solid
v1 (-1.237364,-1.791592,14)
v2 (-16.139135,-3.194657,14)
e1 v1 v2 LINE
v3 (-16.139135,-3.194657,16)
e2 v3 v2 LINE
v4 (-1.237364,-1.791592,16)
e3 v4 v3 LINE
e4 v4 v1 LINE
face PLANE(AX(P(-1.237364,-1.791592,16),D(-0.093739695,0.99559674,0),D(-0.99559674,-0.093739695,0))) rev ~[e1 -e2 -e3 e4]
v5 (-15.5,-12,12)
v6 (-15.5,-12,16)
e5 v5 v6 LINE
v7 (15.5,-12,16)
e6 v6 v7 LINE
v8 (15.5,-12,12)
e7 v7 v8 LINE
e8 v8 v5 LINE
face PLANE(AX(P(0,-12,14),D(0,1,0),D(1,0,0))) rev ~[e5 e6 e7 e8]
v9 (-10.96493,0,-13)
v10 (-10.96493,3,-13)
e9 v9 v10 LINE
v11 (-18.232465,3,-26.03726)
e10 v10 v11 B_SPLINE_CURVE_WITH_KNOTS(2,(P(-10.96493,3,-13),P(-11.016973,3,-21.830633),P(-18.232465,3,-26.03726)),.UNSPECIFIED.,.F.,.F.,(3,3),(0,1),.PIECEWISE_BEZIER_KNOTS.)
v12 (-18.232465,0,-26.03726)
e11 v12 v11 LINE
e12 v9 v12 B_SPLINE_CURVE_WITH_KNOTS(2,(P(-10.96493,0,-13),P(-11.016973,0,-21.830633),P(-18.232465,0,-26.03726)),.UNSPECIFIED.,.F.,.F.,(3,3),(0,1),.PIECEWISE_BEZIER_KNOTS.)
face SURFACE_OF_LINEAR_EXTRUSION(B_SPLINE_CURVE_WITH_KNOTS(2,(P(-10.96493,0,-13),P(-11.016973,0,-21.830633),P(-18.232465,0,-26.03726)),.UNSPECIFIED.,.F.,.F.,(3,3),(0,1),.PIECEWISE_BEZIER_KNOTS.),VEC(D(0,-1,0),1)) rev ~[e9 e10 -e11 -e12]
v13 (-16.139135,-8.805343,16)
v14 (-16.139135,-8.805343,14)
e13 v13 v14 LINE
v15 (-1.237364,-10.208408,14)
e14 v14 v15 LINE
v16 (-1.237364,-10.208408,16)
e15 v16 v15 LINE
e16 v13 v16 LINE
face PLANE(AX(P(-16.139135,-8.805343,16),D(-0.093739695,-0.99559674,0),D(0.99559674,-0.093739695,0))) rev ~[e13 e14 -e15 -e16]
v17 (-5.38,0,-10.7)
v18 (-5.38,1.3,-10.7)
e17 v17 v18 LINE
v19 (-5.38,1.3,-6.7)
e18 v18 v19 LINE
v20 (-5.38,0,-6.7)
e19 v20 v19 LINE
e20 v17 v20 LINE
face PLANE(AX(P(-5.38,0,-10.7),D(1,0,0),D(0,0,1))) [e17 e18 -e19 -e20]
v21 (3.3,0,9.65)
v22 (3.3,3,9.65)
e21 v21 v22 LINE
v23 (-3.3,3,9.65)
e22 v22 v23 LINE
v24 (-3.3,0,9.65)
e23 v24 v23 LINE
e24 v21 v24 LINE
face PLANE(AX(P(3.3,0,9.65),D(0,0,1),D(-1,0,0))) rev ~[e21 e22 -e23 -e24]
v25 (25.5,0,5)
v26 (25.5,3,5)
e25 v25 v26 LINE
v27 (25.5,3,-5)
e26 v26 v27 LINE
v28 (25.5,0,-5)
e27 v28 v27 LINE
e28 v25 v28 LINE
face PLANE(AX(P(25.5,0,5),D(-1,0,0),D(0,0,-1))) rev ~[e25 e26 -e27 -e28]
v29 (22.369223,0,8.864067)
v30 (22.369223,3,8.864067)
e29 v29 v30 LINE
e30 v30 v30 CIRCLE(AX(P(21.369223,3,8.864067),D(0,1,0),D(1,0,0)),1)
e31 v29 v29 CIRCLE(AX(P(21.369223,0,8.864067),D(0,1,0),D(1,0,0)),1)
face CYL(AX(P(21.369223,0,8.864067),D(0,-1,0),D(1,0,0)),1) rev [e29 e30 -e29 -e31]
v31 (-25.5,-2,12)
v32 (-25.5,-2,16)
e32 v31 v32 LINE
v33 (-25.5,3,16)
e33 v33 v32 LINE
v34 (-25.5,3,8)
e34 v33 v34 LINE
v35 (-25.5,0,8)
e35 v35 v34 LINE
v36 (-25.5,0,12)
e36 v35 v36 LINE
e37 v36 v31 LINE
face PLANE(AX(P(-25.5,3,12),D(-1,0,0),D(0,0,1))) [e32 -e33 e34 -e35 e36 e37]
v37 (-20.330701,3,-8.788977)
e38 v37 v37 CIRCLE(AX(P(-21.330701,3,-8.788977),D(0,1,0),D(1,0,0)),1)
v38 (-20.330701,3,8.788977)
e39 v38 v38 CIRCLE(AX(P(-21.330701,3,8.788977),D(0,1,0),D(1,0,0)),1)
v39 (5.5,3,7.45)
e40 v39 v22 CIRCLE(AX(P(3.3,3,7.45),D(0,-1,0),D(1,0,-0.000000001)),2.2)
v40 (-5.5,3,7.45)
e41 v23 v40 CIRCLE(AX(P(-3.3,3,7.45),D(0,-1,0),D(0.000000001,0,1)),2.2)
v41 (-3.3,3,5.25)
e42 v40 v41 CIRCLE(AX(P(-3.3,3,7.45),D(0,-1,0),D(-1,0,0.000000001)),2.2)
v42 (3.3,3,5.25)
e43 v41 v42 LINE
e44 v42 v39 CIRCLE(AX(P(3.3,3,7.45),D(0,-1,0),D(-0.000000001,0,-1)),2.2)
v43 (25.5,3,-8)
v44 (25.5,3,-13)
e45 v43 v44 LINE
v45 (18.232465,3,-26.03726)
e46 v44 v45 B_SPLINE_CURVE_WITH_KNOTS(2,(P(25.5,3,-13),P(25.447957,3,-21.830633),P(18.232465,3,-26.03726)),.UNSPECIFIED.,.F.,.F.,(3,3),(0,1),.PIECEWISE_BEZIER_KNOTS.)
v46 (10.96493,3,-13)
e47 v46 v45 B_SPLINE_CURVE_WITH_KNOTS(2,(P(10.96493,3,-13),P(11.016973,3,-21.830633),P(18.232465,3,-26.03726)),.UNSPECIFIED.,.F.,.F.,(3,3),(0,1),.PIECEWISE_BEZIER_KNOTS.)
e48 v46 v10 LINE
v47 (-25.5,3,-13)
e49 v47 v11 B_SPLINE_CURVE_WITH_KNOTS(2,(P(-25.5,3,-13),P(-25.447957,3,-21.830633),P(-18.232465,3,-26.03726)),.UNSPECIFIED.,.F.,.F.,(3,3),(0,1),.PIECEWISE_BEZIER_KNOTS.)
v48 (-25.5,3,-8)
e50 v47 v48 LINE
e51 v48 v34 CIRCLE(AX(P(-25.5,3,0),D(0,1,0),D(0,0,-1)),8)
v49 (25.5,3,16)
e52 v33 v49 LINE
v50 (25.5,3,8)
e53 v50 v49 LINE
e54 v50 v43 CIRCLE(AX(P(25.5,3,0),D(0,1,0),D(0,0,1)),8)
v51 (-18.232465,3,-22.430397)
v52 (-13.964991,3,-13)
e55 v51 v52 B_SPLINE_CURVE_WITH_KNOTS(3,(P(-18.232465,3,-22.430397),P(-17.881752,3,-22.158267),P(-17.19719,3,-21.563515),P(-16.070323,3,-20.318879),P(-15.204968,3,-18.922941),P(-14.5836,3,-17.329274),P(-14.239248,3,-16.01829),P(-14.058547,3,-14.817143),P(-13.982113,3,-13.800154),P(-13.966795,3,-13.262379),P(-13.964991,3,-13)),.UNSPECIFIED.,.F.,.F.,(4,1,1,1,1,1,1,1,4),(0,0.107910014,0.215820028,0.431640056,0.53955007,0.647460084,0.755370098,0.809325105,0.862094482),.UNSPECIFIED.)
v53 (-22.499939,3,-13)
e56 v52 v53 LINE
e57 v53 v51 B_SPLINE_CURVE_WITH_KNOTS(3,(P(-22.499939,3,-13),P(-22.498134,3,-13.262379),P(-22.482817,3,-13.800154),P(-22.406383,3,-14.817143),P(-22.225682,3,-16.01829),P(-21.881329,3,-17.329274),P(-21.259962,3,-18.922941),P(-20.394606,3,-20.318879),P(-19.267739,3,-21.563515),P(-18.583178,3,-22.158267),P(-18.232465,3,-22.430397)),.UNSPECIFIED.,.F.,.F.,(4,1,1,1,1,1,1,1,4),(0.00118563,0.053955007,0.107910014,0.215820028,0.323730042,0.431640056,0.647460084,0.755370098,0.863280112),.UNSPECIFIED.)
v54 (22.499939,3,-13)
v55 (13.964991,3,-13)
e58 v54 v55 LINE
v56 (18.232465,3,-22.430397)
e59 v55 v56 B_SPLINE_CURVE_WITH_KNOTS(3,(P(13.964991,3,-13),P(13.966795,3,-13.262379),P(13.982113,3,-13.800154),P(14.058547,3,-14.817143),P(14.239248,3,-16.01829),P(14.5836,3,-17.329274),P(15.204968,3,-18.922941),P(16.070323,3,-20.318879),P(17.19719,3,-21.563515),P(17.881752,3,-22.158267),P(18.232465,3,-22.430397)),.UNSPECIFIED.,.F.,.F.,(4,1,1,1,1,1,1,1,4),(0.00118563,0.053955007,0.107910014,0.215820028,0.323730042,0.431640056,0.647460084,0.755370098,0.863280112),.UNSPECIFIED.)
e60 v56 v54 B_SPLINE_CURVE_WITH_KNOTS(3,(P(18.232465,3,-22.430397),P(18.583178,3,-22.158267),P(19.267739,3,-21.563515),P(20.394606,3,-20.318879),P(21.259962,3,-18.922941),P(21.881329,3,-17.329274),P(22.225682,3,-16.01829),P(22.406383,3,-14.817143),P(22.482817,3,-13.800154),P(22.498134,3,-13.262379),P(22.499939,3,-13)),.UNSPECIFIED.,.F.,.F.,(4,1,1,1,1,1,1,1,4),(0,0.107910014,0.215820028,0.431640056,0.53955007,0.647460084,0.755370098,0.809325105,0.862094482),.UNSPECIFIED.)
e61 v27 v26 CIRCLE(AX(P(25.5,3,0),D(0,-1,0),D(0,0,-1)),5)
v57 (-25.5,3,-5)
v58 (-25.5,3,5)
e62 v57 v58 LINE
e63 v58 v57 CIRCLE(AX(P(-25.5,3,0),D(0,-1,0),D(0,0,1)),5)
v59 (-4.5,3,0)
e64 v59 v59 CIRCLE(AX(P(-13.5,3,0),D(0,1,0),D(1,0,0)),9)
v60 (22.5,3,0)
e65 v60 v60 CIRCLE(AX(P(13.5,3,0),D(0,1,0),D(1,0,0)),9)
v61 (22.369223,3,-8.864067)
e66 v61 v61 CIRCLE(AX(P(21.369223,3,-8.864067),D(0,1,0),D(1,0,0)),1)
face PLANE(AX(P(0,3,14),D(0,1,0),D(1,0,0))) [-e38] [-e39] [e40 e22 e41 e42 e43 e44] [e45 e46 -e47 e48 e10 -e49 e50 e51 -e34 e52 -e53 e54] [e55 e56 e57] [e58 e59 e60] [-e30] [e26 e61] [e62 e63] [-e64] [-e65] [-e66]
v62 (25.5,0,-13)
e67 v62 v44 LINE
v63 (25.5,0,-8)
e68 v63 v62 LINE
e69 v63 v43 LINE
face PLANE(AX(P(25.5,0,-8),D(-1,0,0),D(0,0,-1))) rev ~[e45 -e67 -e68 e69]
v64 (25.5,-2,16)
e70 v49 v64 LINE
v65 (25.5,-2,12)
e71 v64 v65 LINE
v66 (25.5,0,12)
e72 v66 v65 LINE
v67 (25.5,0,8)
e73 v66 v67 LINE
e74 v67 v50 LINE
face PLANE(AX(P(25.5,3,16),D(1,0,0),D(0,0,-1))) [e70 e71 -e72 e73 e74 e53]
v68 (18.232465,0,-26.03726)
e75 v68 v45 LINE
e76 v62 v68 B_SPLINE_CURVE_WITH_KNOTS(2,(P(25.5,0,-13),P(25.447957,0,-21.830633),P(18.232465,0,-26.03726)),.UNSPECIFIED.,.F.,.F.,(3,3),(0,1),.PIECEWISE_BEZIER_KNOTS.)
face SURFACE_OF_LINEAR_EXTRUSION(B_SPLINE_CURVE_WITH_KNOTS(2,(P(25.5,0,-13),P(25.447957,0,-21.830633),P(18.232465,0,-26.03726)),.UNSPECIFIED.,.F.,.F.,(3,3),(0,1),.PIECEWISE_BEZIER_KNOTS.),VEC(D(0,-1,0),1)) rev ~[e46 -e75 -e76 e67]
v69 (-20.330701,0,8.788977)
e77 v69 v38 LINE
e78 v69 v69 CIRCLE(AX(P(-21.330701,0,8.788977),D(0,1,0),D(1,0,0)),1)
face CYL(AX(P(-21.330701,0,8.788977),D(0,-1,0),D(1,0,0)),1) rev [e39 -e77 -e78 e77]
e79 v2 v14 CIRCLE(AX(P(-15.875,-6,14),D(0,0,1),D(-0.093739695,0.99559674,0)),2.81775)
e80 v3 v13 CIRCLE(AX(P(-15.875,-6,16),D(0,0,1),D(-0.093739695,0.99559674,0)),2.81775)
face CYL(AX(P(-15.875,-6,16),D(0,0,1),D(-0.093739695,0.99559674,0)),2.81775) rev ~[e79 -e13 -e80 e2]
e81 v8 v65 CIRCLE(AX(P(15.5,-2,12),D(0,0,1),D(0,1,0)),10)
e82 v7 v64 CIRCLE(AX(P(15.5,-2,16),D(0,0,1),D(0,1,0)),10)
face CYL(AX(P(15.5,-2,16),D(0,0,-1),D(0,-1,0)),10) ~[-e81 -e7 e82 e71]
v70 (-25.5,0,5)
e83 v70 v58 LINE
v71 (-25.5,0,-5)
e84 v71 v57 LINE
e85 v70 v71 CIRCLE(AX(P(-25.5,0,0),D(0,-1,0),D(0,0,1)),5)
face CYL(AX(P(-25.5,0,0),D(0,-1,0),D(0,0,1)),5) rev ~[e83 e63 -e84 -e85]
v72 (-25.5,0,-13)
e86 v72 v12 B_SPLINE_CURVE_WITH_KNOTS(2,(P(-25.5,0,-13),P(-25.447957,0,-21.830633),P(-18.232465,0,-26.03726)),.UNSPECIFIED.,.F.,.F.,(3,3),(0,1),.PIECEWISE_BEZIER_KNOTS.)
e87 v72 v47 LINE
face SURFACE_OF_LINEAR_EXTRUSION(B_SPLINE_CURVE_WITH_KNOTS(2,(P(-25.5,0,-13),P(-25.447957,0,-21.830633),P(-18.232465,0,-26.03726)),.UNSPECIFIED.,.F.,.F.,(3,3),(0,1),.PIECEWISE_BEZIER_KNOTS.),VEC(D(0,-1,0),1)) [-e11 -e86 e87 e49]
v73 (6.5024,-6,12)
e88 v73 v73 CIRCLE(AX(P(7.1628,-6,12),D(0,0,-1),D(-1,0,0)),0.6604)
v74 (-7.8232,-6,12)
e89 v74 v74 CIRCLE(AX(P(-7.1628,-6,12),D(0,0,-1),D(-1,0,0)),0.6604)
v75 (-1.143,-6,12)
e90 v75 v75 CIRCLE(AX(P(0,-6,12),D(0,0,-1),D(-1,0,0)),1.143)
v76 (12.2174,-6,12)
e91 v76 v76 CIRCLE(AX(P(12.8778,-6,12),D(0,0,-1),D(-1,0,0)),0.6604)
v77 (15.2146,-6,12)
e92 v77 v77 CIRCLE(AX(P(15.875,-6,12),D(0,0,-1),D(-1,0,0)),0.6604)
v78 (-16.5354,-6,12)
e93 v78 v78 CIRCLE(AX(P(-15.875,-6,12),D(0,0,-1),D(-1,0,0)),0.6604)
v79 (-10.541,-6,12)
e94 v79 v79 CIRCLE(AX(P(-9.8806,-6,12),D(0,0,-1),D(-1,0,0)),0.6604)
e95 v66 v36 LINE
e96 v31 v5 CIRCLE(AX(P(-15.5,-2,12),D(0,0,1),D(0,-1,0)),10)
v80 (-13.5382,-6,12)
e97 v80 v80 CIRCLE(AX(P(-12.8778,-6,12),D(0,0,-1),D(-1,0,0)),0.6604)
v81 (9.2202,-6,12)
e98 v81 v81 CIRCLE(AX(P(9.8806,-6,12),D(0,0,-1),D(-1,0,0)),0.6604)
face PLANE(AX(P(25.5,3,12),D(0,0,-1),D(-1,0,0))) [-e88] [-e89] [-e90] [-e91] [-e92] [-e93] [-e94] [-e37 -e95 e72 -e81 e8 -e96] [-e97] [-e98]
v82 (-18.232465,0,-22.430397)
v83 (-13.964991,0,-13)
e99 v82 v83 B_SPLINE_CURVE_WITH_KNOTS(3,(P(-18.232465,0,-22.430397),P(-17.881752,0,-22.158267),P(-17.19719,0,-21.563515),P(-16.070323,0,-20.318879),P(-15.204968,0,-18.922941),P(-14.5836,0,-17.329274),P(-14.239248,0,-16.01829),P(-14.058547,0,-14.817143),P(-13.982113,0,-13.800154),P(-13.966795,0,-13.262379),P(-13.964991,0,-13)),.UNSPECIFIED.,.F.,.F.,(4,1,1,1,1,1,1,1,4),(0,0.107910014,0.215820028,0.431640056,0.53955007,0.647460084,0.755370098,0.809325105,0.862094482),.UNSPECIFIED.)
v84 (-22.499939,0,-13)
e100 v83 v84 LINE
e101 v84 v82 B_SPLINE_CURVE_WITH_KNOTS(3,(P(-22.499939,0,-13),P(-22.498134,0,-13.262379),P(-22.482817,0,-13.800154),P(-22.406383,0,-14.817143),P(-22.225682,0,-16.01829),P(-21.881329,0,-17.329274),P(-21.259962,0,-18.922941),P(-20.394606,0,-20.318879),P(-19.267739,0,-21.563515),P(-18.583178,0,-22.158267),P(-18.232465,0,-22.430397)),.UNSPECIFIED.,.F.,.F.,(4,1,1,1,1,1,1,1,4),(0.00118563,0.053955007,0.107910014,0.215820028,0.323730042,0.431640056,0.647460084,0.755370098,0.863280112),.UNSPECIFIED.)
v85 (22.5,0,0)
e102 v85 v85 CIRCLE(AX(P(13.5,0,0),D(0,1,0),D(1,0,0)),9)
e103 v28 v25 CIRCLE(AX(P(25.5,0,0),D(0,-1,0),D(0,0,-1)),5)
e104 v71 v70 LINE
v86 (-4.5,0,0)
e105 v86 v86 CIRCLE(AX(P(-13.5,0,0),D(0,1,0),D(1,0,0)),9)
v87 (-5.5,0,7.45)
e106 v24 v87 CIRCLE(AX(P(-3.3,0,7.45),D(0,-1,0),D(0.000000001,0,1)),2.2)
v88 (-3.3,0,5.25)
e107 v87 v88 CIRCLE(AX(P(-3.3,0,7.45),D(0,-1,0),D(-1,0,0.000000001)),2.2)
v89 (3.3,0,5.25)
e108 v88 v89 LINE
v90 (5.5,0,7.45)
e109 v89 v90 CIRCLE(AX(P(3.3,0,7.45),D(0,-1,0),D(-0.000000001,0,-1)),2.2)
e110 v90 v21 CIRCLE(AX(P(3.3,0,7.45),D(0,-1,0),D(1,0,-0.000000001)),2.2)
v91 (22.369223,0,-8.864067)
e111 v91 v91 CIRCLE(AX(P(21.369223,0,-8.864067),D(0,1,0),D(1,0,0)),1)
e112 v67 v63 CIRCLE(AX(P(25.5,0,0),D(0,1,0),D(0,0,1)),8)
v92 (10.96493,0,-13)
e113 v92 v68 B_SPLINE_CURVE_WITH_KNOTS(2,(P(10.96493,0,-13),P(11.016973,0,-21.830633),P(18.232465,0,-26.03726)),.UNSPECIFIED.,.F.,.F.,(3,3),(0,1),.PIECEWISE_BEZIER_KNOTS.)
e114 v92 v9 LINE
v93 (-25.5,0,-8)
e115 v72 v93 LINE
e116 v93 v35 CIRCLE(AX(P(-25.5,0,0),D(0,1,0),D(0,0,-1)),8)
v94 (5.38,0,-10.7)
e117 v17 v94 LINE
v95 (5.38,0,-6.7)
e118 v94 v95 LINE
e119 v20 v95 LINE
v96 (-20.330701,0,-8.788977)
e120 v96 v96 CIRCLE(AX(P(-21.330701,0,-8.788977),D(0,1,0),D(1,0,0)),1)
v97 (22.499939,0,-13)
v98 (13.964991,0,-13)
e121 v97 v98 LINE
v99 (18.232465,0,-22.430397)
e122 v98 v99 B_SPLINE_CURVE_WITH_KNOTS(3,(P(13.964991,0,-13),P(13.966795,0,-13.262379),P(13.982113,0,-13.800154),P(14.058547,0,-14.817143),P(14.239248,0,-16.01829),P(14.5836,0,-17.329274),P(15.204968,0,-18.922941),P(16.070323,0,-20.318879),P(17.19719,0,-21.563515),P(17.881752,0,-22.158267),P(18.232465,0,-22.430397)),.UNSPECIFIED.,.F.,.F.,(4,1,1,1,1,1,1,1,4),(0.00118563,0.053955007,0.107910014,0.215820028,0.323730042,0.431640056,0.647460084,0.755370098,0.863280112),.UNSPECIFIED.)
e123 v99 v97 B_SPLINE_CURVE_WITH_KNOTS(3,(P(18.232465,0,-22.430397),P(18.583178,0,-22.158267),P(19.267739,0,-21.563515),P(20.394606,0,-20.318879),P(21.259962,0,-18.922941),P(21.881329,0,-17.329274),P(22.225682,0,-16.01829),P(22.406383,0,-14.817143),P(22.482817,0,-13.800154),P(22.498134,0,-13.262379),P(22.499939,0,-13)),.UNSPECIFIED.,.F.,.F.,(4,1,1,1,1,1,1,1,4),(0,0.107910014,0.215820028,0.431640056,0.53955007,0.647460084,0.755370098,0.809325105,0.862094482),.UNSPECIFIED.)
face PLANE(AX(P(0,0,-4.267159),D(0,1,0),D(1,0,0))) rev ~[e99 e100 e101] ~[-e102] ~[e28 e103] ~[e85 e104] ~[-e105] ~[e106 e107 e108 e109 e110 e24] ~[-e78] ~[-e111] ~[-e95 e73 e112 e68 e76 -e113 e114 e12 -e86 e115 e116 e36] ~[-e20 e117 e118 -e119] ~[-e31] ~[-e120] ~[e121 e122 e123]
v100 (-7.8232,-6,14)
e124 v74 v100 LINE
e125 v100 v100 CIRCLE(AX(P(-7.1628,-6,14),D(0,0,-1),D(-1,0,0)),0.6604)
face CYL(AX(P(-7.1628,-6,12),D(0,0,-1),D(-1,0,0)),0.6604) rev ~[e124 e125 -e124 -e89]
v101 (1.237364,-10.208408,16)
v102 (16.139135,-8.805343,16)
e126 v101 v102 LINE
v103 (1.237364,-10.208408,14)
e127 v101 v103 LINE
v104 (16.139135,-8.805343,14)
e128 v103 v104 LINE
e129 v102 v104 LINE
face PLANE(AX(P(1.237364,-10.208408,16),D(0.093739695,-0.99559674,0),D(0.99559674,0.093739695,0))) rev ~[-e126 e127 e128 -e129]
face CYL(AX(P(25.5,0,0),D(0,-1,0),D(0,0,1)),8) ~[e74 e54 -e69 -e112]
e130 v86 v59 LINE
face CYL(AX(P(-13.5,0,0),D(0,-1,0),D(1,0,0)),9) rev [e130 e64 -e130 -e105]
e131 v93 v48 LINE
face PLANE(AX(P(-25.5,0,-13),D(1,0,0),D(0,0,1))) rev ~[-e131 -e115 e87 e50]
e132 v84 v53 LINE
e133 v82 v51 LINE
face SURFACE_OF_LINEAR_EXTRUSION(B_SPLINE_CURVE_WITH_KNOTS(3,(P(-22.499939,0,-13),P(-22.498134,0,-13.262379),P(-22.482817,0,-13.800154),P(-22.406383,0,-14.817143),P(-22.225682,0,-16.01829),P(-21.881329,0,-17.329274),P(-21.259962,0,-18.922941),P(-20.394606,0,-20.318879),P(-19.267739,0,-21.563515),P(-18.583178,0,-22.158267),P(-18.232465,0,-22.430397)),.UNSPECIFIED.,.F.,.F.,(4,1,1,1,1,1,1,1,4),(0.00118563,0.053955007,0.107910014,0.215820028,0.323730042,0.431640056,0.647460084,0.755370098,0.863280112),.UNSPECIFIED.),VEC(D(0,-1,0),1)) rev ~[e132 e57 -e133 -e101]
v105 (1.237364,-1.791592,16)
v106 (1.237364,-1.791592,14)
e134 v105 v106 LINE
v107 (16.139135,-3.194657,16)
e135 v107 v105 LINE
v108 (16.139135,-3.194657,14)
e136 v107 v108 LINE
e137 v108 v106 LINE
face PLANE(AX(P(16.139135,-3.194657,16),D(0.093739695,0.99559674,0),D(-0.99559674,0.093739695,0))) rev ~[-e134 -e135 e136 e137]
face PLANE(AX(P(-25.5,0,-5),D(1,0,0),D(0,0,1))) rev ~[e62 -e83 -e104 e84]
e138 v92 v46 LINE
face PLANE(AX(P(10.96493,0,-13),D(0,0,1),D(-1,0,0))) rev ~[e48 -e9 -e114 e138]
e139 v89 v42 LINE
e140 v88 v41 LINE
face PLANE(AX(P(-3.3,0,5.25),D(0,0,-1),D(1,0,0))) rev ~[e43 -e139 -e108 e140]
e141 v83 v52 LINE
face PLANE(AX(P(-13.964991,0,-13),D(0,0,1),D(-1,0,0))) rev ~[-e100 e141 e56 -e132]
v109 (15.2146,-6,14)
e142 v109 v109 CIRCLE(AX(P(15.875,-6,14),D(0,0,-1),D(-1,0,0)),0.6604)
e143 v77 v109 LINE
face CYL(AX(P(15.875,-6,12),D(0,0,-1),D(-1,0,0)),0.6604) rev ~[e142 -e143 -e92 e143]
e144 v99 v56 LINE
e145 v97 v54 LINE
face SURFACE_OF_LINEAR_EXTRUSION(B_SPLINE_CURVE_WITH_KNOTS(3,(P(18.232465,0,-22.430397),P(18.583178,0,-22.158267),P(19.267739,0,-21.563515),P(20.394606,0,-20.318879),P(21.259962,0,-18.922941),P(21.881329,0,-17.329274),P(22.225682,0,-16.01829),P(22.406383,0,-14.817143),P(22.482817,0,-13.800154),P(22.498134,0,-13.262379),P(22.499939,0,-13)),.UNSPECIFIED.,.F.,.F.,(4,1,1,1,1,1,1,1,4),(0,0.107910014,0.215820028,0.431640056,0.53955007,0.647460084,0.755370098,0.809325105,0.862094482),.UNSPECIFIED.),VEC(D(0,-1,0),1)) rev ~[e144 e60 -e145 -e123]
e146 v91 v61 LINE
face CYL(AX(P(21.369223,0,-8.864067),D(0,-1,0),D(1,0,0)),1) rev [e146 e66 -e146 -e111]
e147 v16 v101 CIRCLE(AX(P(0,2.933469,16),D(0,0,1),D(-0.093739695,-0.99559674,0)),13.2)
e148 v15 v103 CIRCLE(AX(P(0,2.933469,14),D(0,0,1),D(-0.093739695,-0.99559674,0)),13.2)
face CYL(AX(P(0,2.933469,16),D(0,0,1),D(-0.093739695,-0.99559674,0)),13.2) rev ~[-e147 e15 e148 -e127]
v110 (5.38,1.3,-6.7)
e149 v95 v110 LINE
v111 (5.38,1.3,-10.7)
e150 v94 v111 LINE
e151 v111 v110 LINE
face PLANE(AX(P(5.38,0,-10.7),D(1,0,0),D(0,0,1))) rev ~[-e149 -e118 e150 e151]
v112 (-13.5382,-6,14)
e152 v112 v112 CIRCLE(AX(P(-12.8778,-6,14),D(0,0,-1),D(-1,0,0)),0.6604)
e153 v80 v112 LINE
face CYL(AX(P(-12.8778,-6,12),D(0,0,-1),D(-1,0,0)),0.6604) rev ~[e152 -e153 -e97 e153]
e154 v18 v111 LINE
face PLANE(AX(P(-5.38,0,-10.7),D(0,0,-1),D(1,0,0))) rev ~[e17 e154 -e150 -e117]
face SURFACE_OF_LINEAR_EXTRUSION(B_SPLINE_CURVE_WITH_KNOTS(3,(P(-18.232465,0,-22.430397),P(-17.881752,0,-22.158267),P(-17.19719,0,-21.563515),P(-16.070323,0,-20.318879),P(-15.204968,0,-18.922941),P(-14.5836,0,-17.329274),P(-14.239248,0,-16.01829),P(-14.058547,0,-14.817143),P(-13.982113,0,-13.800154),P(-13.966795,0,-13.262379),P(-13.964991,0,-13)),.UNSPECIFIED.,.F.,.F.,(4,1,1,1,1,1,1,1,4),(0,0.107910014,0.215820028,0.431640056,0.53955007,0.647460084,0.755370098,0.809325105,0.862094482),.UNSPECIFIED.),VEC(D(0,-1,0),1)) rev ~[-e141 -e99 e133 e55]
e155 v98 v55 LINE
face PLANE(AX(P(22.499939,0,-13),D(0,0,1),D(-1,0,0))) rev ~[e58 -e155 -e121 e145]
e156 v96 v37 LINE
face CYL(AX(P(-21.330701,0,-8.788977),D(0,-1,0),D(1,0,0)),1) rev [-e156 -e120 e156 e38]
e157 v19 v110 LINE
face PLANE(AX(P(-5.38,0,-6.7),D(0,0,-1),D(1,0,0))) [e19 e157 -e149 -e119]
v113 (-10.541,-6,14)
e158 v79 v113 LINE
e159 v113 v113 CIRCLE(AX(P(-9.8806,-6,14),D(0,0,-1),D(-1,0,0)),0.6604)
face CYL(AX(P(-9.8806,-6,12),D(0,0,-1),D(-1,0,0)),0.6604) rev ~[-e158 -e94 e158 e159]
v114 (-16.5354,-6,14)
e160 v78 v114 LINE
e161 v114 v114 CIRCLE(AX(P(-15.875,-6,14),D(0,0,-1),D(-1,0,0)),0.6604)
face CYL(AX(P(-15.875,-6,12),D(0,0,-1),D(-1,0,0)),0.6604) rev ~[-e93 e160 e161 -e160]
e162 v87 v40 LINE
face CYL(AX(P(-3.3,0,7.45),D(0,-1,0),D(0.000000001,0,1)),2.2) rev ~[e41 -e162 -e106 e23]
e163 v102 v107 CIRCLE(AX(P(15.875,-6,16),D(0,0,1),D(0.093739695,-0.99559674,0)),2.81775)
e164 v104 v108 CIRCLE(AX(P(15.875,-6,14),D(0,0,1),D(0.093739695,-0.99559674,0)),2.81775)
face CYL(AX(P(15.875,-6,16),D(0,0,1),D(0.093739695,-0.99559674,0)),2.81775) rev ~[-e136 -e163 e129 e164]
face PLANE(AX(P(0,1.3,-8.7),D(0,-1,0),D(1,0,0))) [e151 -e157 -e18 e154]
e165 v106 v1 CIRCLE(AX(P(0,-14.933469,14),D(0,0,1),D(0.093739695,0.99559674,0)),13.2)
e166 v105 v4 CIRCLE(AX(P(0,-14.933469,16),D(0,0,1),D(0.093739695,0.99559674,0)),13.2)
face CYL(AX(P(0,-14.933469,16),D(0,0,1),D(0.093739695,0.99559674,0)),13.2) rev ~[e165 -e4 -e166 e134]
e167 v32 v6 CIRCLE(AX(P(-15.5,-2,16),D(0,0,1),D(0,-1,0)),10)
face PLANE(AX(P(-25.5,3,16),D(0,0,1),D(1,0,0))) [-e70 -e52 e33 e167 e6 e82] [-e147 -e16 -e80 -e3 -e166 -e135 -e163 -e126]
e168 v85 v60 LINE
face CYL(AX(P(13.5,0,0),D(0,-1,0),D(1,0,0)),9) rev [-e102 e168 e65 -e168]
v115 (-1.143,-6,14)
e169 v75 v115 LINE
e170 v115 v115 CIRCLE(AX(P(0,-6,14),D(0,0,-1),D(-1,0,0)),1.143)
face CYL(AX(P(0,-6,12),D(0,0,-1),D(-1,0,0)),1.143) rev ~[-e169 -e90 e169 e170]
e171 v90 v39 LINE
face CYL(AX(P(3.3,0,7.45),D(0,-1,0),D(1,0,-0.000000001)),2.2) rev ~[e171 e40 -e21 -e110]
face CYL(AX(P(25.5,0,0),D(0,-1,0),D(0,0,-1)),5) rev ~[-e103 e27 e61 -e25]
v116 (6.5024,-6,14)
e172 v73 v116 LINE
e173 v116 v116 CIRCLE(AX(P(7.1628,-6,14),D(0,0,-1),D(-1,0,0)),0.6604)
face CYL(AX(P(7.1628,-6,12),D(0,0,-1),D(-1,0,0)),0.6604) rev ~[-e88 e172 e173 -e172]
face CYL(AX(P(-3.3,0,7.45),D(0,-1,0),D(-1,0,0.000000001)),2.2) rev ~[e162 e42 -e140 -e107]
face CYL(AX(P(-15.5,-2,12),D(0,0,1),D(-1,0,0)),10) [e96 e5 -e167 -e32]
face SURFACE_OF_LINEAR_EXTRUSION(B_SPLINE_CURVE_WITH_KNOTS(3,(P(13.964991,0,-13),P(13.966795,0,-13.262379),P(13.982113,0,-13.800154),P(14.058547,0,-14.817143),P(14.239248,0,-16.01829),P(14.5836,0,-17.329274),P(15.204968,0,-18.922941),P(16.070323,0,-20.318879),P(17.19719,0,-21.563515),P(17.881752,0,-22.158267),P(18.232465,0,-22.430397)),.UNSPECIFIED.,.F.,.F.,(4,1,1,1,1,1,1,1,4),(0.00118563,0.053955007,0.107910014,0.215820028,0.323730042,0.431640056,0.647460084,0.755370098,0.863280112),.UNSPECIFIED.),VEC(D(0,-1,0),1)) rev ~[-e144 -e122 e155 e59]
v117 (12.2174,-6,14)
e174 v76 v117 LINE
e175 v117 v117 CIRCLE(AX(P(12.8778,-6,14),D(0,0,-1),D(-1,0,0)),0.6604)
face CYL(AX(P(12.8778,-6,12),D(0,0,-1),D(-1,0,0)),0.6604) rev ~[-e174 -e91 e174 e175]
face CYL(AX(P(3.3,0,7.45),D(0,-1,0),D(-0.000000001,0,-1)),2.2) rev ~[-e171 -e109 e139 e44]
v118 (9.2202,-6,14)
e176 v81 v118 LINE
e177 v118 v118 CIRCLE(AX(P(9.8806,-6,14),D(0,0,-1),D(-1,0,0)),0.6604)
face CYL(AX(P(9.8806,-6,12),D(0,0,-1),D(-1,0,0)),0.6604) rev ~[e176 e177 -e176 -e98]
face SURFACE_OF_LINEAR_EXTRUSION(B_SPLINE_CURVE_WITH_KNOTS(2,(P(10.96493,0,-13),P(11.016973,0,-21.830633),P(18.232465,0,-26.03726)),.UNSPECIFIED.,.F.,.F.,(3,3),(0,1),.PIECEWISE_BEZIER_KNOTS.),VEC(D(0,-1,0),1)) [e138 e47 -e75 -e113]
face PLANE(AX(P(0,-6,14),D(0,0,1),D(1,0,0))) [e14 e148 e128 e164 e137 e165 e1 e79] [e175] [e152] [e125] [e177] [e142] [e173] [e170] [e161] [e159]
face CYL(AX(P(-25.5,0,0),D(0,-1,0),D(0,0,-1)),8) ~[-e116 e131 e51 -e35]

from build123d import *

# Parameters (mm, degrees)
SKETCH1_R           = 1
SKETCH1_R_2         = 9
BOSS_EXTRUDE3_DEPTH = 3
BOSS_EXTRUDE4_DEPTH = 15
SKETCH5_R           = 0.6604
SKETCH5_R_2         = 1.143
CUT_EXTRUDE1_DEPTH  = 10
FILLET2_R           = 10
CUT_EXTRUDE3_DEPTH  = 2
SKETCH8_W           = 10.76
SKETCH8_H           = 4
CUT_EXTRUDE4_DEPTH  = 1.3


with BuildPart() as part:
    # Sketch1 → Boss-Extrude3 (new body)
    with BuildSketch(Plane(origin=(0, 0, 0), x_dir=(1, 0, 0), z_dir=(0, 1, 0))):
        with BuildLine():
            Line((-25.5, -8), (-25.5, -13))
            Line((-25.5, -13), (25.5, -13))
            Line((25.5, -13), (25.5, -8))
            ThreePointArc((25.5, -8), (33.5, 0), (25.5, 8))
            Line((25.5, 8), (25.5, 13))
            add(Edge.make_bspline(
                [(25.5, 13), (25.447957122, 21.830633136), (18.232464907, 26.037260317)],
                knots=[0, 0, 0, 1, 1, 1], degree=2))
            add(Edge.make_bspline(
                [(10.964929815, 13), (11.016972693, 21.830633136), (18.232464907, 26.037260317)],
                knots=[0, 0, 0, 1, 1, 1], degree=2))
            Line((10.964929815, 13), (-10.964929815, 13))
            add(Edge.make_bspline(
                [(-10.964929815, 13), (-11.016972693, 21.830633136), (-18.232464907, 26.037260317)],
                knots=[0, 0, 0, 1, 1, 1], degree=2))
            add(Edge.make_bspline(
                [(-25.5, 13), (-25.447957122, 21.830633136), (-18.232464907, 26.037260317)],
                knots=[0, 0, 0, 1, 1, 1], degree=2))
            Line((-25.5, 13), (-25.5, 8))
            ThreePointArc((-25.5, 8), (-33.5, 0), (-25.5, -8))
        make_face()
        with Locations((-21.330701069, -8.788977071)):
            Circle(SKETCH1_R, mode=Mode.SUBTRACT)
        with BuildLine():
            ThreePointArc((-25.5, -5), (-30.5, 0), (-25.5, 5))
            Line((-25.5, 5), (-25.5, -5))
        make_face(mode=Mode.SUBTRACT)
        with Locations((-13.5, 0)):
            Circle(SKETCH1_R_2, mode=Mode.SUBTRACT)
        with BuildLine():
            ThreePointArc((-5.5, -7.45), (-4.855634919, -5.894365081), (-3.3, -5.25))
            Line((-3.3, -5.25), (3.3, -5.25))
            ThreePointArc((3.3, -5.25), (4.855634919, -5.894365081), (5.5, -7.45))
            ThreePointArc((5.5, -7.45), (4.855634919, -9.005634919), (3.3, -9.65))
            Line((3.3, -9.65), (-3.3, -9.65))
            ThreePointArc((-3.3, -9.65), (-4.855634919, -9.005634919), (-5.5, -7.45))
        make_face(mode=Mode.SUBTRACT)
        with Locations((21.36922293, -8.864067488)):
            Circle(SKETCH1_R, mode=Mode.SUBTRACT)
        with Locations((13.5, 0)):
            Circle(SKETCH1_R_2, mode=Mode.SUBTRACT)
        with BuildLine():
            Line((25.5, -5), (25.5, 5))
            ThreePointArc((25.5, 5), (30.5, 0), (25.5, -5))
        make_face(mode=Mode.SUBTRACT)
        with Locations((-21.330701069, 8.788977071)):
            Circle(SKETCH1_R, mode=Mode.SUBTRACT)
        with BuildLine():
            add(Edge.make_bspline(
                [(-18.232464907, 22.430397358), (-17.881752173, 22.15826664), (-17.197190326, 21.563514811), (-16.070323369, 20.318879343), (-15.204967784, 18.922941442), (-14.583600481, 17.329273987), (-14.239247895, 16.018289812), (-14.058547206, 14.81714331), (-13.98211291, 13.800154377), (-13.966795322, 13.26237878), (-13.964990622, 12.999999994)],
                knots=[0, 0, 0, 0, 0.107910014, 0.215820028, 0.431640056, 0.53955007, 0.647460084, 0.755370098, 0.809325105, 0.862094482, 0.862094482, 0.862094482, 0.862094482], degree=3))
            Line((-13.964990622, 12.999999994), (-22.499939192, 12.999999994))
            add(Edge.make_bspline(
                [(-22.499939192, 12.999999994), (-22.498134493, 13.26237878), (-22.482816904, 13.800154377), (-22.406382608, 14.81714331), (-22.22568192, 16.018289812), (-21.881329334, 17.329273987), (-21.259962031, 18.922941442), (-20.394606445, 20.318879343), (-19.267739489, 21.563514811), (-18.583177642, 22.15826664), (-18.232464907, 22.430397358)],
                knots=[0.00118563, 0.00118563, 0.00118563, 0.00118563, 0.053955007, 0.107910014, 0.215820028, 0.323730042, 0.431640056, 0.647460084, 0.755370098, 0.863280112, 0.863280112, 0.863280112, 0.863280112], degree=3))
        make_face(mode=Mode.SUBTRACT)
        with Locations((21.36922293, 8.864067488)):
            Circle(SKETCH1_R, mode=Mode.SUBTRACT)
        with BuildLine():
            Line((22.499939192, 13), (13.964990622, 13))
            add(Edge.make_bspline(
                [(13.964990622, 13), (13.966795322, 13.262378784), (13.982112911, 13.800154379), (14.058547206, 14.81714331), (14.239247895, 16.018289812), (14.583600481, 17.329273987), (15.204967784, 18.922941442), (16.070323369, 20.318879343), (17.197190326, 21.563514811), (17.881752173, 22.15826664), (18.232464907, 22.430397358)],
                knots=[0.00118563, 0.00118563, 0.00118563, 0.00118563, 0.053955007, 0.107910014, 0.215820028, 0.323730042, 0.431640056, 0.647460084, 0.755370098, 0.863280112, 0.863280112, 0.863280112, 0.863280112], degree=3))
            add(Edge.make_bspline(
                [(18.232464907, 22.430397358), (18.583177642, 22.15826664), (19.267739489, 21.563514811), (20.394606445, 20.318879343), (21.259962031, 18.922941442), (21.881329334, 17.329273987), (22.22568192, 16.018289812), (22.406382608, 14.81714331), (22.482816904, 13.800154379), (22.498134493, 13.262378784), (22.499939192, 13)],
                knots=[0, 0, 0, 0, 0.107910014, 0.215820028, 0.431640056, 0.53955007, 0.647460084, 0.755370098, 0.809325105, 0.862094482, 0.862094482, 0.862094482, 0.862094482], degree=3))
        make_face(mode=Mode.SUBTRACT)
    extrude(amount=BOSS_EXTRUDE3_DEPTH)

    # Sketch4 → Boss-Extrude4 (add)
    with BuildSketch(Plane(origin=(0, 3, 0), x_dir=(1, 0, 0), z_dir=(0, 1, 0))):
        Polygon((-25.5, -13), (-25.5, -16), (25.5, -16), (25.5, -13), (25.5, -12), (-25.5, -12), align=None)
    extrude(amount=-BOSS_EXTRUDE4_DEPTH)

    # Sketch5 → Cut-Extrude1 (cut)
    with BuildSketch(Plane(origin=(0, 0, 12), x_dir=(-1, 0, 0), z_dir=(0, 0, -1))):
        with Locations((-15.875, -6)):
            Circle(SKETCH5_R)
        with Locations((-12.8778, -6)):
            Circle(SKETCH5_R)
        with Locations((-9.8806, -6)):
            Circle(SKETCH5_R)
        with Locations((-7.1628, -6)):
            Circle(SKETCH5_R)
        with Locations((15.875, -6)):
            Circle(SKETCH5_R)
        with Locations((12.8778, -6)):
            Circle(SKETCH5_R)
        with Locations((9.8806, -6)):
            Circle(SKETCH5_R)
        with Locations((7.1628, -6)):
            Circle(SKETCH5_R)
        with Locations((0, -6)):
            Circle(SKETCH5_R_2)
    extrude(amount=-CUT_EXTRUDE1_DEPTH, mode=Mode.SUBTRACT)

    # Fillet2
    fillet2_edges = [part.edges().sort_by_distance(p)[0] for p in [
        (25.5, -12, 14),
        (-25.5, -12, 14),
    ]]
    fillet(fillet2_edges, radius=FILLET2_R)

    # Sketch7 → Cut-Extrude3 (cut)
    with BuildSketch(Plane.XY.offset(16)):
        with BuildLine():
            Line((1.237363975, -10.208408252), (16.139135026, -8.805342715))
            ThreePointArc((16.139135026, -8.805342715), (18.69275, -6), (16.139135026, -3.194657285))
            Line((16.139135026, -3.194657285), (1.237363975, -1.791591748))
            ThreePointArc((1.237363975, -1.791591748), (0, -1.733468722), (-1.237363975, -1.791591748))
            Line((-1.237363975, -1.791591748), (-16.139135026, -3.194657285))
            ThreePointArc((-16.139135026, -3.194657285), (-18.69275, -6), (-16.139135026, -8.805342715))
            Line((-16.139135026, -8.805342715), (-1.237363975, -10.208408252))
            ThreePointArc((-1.237363975, -10.208408252), (0, -10.266531278), (1.237363975, -10.208408252))
        make_face()
    extrude(amount=-CUT_EXTRUDE3_DEPTH, mode=Mode.SUBTRACT)

    # Sketch8 → Cut-Extrude4 (cut)
    with BuildSketch(Plane.XZ):
        with Locations((0, -8.7)):
            Rectangle(SKETCH8_W, SKETCH8_H)
    extrude(amount=-CUT_EXTRUDE4_DEPTH, mode=Mode.SUBTRACT)


solid = part.part
